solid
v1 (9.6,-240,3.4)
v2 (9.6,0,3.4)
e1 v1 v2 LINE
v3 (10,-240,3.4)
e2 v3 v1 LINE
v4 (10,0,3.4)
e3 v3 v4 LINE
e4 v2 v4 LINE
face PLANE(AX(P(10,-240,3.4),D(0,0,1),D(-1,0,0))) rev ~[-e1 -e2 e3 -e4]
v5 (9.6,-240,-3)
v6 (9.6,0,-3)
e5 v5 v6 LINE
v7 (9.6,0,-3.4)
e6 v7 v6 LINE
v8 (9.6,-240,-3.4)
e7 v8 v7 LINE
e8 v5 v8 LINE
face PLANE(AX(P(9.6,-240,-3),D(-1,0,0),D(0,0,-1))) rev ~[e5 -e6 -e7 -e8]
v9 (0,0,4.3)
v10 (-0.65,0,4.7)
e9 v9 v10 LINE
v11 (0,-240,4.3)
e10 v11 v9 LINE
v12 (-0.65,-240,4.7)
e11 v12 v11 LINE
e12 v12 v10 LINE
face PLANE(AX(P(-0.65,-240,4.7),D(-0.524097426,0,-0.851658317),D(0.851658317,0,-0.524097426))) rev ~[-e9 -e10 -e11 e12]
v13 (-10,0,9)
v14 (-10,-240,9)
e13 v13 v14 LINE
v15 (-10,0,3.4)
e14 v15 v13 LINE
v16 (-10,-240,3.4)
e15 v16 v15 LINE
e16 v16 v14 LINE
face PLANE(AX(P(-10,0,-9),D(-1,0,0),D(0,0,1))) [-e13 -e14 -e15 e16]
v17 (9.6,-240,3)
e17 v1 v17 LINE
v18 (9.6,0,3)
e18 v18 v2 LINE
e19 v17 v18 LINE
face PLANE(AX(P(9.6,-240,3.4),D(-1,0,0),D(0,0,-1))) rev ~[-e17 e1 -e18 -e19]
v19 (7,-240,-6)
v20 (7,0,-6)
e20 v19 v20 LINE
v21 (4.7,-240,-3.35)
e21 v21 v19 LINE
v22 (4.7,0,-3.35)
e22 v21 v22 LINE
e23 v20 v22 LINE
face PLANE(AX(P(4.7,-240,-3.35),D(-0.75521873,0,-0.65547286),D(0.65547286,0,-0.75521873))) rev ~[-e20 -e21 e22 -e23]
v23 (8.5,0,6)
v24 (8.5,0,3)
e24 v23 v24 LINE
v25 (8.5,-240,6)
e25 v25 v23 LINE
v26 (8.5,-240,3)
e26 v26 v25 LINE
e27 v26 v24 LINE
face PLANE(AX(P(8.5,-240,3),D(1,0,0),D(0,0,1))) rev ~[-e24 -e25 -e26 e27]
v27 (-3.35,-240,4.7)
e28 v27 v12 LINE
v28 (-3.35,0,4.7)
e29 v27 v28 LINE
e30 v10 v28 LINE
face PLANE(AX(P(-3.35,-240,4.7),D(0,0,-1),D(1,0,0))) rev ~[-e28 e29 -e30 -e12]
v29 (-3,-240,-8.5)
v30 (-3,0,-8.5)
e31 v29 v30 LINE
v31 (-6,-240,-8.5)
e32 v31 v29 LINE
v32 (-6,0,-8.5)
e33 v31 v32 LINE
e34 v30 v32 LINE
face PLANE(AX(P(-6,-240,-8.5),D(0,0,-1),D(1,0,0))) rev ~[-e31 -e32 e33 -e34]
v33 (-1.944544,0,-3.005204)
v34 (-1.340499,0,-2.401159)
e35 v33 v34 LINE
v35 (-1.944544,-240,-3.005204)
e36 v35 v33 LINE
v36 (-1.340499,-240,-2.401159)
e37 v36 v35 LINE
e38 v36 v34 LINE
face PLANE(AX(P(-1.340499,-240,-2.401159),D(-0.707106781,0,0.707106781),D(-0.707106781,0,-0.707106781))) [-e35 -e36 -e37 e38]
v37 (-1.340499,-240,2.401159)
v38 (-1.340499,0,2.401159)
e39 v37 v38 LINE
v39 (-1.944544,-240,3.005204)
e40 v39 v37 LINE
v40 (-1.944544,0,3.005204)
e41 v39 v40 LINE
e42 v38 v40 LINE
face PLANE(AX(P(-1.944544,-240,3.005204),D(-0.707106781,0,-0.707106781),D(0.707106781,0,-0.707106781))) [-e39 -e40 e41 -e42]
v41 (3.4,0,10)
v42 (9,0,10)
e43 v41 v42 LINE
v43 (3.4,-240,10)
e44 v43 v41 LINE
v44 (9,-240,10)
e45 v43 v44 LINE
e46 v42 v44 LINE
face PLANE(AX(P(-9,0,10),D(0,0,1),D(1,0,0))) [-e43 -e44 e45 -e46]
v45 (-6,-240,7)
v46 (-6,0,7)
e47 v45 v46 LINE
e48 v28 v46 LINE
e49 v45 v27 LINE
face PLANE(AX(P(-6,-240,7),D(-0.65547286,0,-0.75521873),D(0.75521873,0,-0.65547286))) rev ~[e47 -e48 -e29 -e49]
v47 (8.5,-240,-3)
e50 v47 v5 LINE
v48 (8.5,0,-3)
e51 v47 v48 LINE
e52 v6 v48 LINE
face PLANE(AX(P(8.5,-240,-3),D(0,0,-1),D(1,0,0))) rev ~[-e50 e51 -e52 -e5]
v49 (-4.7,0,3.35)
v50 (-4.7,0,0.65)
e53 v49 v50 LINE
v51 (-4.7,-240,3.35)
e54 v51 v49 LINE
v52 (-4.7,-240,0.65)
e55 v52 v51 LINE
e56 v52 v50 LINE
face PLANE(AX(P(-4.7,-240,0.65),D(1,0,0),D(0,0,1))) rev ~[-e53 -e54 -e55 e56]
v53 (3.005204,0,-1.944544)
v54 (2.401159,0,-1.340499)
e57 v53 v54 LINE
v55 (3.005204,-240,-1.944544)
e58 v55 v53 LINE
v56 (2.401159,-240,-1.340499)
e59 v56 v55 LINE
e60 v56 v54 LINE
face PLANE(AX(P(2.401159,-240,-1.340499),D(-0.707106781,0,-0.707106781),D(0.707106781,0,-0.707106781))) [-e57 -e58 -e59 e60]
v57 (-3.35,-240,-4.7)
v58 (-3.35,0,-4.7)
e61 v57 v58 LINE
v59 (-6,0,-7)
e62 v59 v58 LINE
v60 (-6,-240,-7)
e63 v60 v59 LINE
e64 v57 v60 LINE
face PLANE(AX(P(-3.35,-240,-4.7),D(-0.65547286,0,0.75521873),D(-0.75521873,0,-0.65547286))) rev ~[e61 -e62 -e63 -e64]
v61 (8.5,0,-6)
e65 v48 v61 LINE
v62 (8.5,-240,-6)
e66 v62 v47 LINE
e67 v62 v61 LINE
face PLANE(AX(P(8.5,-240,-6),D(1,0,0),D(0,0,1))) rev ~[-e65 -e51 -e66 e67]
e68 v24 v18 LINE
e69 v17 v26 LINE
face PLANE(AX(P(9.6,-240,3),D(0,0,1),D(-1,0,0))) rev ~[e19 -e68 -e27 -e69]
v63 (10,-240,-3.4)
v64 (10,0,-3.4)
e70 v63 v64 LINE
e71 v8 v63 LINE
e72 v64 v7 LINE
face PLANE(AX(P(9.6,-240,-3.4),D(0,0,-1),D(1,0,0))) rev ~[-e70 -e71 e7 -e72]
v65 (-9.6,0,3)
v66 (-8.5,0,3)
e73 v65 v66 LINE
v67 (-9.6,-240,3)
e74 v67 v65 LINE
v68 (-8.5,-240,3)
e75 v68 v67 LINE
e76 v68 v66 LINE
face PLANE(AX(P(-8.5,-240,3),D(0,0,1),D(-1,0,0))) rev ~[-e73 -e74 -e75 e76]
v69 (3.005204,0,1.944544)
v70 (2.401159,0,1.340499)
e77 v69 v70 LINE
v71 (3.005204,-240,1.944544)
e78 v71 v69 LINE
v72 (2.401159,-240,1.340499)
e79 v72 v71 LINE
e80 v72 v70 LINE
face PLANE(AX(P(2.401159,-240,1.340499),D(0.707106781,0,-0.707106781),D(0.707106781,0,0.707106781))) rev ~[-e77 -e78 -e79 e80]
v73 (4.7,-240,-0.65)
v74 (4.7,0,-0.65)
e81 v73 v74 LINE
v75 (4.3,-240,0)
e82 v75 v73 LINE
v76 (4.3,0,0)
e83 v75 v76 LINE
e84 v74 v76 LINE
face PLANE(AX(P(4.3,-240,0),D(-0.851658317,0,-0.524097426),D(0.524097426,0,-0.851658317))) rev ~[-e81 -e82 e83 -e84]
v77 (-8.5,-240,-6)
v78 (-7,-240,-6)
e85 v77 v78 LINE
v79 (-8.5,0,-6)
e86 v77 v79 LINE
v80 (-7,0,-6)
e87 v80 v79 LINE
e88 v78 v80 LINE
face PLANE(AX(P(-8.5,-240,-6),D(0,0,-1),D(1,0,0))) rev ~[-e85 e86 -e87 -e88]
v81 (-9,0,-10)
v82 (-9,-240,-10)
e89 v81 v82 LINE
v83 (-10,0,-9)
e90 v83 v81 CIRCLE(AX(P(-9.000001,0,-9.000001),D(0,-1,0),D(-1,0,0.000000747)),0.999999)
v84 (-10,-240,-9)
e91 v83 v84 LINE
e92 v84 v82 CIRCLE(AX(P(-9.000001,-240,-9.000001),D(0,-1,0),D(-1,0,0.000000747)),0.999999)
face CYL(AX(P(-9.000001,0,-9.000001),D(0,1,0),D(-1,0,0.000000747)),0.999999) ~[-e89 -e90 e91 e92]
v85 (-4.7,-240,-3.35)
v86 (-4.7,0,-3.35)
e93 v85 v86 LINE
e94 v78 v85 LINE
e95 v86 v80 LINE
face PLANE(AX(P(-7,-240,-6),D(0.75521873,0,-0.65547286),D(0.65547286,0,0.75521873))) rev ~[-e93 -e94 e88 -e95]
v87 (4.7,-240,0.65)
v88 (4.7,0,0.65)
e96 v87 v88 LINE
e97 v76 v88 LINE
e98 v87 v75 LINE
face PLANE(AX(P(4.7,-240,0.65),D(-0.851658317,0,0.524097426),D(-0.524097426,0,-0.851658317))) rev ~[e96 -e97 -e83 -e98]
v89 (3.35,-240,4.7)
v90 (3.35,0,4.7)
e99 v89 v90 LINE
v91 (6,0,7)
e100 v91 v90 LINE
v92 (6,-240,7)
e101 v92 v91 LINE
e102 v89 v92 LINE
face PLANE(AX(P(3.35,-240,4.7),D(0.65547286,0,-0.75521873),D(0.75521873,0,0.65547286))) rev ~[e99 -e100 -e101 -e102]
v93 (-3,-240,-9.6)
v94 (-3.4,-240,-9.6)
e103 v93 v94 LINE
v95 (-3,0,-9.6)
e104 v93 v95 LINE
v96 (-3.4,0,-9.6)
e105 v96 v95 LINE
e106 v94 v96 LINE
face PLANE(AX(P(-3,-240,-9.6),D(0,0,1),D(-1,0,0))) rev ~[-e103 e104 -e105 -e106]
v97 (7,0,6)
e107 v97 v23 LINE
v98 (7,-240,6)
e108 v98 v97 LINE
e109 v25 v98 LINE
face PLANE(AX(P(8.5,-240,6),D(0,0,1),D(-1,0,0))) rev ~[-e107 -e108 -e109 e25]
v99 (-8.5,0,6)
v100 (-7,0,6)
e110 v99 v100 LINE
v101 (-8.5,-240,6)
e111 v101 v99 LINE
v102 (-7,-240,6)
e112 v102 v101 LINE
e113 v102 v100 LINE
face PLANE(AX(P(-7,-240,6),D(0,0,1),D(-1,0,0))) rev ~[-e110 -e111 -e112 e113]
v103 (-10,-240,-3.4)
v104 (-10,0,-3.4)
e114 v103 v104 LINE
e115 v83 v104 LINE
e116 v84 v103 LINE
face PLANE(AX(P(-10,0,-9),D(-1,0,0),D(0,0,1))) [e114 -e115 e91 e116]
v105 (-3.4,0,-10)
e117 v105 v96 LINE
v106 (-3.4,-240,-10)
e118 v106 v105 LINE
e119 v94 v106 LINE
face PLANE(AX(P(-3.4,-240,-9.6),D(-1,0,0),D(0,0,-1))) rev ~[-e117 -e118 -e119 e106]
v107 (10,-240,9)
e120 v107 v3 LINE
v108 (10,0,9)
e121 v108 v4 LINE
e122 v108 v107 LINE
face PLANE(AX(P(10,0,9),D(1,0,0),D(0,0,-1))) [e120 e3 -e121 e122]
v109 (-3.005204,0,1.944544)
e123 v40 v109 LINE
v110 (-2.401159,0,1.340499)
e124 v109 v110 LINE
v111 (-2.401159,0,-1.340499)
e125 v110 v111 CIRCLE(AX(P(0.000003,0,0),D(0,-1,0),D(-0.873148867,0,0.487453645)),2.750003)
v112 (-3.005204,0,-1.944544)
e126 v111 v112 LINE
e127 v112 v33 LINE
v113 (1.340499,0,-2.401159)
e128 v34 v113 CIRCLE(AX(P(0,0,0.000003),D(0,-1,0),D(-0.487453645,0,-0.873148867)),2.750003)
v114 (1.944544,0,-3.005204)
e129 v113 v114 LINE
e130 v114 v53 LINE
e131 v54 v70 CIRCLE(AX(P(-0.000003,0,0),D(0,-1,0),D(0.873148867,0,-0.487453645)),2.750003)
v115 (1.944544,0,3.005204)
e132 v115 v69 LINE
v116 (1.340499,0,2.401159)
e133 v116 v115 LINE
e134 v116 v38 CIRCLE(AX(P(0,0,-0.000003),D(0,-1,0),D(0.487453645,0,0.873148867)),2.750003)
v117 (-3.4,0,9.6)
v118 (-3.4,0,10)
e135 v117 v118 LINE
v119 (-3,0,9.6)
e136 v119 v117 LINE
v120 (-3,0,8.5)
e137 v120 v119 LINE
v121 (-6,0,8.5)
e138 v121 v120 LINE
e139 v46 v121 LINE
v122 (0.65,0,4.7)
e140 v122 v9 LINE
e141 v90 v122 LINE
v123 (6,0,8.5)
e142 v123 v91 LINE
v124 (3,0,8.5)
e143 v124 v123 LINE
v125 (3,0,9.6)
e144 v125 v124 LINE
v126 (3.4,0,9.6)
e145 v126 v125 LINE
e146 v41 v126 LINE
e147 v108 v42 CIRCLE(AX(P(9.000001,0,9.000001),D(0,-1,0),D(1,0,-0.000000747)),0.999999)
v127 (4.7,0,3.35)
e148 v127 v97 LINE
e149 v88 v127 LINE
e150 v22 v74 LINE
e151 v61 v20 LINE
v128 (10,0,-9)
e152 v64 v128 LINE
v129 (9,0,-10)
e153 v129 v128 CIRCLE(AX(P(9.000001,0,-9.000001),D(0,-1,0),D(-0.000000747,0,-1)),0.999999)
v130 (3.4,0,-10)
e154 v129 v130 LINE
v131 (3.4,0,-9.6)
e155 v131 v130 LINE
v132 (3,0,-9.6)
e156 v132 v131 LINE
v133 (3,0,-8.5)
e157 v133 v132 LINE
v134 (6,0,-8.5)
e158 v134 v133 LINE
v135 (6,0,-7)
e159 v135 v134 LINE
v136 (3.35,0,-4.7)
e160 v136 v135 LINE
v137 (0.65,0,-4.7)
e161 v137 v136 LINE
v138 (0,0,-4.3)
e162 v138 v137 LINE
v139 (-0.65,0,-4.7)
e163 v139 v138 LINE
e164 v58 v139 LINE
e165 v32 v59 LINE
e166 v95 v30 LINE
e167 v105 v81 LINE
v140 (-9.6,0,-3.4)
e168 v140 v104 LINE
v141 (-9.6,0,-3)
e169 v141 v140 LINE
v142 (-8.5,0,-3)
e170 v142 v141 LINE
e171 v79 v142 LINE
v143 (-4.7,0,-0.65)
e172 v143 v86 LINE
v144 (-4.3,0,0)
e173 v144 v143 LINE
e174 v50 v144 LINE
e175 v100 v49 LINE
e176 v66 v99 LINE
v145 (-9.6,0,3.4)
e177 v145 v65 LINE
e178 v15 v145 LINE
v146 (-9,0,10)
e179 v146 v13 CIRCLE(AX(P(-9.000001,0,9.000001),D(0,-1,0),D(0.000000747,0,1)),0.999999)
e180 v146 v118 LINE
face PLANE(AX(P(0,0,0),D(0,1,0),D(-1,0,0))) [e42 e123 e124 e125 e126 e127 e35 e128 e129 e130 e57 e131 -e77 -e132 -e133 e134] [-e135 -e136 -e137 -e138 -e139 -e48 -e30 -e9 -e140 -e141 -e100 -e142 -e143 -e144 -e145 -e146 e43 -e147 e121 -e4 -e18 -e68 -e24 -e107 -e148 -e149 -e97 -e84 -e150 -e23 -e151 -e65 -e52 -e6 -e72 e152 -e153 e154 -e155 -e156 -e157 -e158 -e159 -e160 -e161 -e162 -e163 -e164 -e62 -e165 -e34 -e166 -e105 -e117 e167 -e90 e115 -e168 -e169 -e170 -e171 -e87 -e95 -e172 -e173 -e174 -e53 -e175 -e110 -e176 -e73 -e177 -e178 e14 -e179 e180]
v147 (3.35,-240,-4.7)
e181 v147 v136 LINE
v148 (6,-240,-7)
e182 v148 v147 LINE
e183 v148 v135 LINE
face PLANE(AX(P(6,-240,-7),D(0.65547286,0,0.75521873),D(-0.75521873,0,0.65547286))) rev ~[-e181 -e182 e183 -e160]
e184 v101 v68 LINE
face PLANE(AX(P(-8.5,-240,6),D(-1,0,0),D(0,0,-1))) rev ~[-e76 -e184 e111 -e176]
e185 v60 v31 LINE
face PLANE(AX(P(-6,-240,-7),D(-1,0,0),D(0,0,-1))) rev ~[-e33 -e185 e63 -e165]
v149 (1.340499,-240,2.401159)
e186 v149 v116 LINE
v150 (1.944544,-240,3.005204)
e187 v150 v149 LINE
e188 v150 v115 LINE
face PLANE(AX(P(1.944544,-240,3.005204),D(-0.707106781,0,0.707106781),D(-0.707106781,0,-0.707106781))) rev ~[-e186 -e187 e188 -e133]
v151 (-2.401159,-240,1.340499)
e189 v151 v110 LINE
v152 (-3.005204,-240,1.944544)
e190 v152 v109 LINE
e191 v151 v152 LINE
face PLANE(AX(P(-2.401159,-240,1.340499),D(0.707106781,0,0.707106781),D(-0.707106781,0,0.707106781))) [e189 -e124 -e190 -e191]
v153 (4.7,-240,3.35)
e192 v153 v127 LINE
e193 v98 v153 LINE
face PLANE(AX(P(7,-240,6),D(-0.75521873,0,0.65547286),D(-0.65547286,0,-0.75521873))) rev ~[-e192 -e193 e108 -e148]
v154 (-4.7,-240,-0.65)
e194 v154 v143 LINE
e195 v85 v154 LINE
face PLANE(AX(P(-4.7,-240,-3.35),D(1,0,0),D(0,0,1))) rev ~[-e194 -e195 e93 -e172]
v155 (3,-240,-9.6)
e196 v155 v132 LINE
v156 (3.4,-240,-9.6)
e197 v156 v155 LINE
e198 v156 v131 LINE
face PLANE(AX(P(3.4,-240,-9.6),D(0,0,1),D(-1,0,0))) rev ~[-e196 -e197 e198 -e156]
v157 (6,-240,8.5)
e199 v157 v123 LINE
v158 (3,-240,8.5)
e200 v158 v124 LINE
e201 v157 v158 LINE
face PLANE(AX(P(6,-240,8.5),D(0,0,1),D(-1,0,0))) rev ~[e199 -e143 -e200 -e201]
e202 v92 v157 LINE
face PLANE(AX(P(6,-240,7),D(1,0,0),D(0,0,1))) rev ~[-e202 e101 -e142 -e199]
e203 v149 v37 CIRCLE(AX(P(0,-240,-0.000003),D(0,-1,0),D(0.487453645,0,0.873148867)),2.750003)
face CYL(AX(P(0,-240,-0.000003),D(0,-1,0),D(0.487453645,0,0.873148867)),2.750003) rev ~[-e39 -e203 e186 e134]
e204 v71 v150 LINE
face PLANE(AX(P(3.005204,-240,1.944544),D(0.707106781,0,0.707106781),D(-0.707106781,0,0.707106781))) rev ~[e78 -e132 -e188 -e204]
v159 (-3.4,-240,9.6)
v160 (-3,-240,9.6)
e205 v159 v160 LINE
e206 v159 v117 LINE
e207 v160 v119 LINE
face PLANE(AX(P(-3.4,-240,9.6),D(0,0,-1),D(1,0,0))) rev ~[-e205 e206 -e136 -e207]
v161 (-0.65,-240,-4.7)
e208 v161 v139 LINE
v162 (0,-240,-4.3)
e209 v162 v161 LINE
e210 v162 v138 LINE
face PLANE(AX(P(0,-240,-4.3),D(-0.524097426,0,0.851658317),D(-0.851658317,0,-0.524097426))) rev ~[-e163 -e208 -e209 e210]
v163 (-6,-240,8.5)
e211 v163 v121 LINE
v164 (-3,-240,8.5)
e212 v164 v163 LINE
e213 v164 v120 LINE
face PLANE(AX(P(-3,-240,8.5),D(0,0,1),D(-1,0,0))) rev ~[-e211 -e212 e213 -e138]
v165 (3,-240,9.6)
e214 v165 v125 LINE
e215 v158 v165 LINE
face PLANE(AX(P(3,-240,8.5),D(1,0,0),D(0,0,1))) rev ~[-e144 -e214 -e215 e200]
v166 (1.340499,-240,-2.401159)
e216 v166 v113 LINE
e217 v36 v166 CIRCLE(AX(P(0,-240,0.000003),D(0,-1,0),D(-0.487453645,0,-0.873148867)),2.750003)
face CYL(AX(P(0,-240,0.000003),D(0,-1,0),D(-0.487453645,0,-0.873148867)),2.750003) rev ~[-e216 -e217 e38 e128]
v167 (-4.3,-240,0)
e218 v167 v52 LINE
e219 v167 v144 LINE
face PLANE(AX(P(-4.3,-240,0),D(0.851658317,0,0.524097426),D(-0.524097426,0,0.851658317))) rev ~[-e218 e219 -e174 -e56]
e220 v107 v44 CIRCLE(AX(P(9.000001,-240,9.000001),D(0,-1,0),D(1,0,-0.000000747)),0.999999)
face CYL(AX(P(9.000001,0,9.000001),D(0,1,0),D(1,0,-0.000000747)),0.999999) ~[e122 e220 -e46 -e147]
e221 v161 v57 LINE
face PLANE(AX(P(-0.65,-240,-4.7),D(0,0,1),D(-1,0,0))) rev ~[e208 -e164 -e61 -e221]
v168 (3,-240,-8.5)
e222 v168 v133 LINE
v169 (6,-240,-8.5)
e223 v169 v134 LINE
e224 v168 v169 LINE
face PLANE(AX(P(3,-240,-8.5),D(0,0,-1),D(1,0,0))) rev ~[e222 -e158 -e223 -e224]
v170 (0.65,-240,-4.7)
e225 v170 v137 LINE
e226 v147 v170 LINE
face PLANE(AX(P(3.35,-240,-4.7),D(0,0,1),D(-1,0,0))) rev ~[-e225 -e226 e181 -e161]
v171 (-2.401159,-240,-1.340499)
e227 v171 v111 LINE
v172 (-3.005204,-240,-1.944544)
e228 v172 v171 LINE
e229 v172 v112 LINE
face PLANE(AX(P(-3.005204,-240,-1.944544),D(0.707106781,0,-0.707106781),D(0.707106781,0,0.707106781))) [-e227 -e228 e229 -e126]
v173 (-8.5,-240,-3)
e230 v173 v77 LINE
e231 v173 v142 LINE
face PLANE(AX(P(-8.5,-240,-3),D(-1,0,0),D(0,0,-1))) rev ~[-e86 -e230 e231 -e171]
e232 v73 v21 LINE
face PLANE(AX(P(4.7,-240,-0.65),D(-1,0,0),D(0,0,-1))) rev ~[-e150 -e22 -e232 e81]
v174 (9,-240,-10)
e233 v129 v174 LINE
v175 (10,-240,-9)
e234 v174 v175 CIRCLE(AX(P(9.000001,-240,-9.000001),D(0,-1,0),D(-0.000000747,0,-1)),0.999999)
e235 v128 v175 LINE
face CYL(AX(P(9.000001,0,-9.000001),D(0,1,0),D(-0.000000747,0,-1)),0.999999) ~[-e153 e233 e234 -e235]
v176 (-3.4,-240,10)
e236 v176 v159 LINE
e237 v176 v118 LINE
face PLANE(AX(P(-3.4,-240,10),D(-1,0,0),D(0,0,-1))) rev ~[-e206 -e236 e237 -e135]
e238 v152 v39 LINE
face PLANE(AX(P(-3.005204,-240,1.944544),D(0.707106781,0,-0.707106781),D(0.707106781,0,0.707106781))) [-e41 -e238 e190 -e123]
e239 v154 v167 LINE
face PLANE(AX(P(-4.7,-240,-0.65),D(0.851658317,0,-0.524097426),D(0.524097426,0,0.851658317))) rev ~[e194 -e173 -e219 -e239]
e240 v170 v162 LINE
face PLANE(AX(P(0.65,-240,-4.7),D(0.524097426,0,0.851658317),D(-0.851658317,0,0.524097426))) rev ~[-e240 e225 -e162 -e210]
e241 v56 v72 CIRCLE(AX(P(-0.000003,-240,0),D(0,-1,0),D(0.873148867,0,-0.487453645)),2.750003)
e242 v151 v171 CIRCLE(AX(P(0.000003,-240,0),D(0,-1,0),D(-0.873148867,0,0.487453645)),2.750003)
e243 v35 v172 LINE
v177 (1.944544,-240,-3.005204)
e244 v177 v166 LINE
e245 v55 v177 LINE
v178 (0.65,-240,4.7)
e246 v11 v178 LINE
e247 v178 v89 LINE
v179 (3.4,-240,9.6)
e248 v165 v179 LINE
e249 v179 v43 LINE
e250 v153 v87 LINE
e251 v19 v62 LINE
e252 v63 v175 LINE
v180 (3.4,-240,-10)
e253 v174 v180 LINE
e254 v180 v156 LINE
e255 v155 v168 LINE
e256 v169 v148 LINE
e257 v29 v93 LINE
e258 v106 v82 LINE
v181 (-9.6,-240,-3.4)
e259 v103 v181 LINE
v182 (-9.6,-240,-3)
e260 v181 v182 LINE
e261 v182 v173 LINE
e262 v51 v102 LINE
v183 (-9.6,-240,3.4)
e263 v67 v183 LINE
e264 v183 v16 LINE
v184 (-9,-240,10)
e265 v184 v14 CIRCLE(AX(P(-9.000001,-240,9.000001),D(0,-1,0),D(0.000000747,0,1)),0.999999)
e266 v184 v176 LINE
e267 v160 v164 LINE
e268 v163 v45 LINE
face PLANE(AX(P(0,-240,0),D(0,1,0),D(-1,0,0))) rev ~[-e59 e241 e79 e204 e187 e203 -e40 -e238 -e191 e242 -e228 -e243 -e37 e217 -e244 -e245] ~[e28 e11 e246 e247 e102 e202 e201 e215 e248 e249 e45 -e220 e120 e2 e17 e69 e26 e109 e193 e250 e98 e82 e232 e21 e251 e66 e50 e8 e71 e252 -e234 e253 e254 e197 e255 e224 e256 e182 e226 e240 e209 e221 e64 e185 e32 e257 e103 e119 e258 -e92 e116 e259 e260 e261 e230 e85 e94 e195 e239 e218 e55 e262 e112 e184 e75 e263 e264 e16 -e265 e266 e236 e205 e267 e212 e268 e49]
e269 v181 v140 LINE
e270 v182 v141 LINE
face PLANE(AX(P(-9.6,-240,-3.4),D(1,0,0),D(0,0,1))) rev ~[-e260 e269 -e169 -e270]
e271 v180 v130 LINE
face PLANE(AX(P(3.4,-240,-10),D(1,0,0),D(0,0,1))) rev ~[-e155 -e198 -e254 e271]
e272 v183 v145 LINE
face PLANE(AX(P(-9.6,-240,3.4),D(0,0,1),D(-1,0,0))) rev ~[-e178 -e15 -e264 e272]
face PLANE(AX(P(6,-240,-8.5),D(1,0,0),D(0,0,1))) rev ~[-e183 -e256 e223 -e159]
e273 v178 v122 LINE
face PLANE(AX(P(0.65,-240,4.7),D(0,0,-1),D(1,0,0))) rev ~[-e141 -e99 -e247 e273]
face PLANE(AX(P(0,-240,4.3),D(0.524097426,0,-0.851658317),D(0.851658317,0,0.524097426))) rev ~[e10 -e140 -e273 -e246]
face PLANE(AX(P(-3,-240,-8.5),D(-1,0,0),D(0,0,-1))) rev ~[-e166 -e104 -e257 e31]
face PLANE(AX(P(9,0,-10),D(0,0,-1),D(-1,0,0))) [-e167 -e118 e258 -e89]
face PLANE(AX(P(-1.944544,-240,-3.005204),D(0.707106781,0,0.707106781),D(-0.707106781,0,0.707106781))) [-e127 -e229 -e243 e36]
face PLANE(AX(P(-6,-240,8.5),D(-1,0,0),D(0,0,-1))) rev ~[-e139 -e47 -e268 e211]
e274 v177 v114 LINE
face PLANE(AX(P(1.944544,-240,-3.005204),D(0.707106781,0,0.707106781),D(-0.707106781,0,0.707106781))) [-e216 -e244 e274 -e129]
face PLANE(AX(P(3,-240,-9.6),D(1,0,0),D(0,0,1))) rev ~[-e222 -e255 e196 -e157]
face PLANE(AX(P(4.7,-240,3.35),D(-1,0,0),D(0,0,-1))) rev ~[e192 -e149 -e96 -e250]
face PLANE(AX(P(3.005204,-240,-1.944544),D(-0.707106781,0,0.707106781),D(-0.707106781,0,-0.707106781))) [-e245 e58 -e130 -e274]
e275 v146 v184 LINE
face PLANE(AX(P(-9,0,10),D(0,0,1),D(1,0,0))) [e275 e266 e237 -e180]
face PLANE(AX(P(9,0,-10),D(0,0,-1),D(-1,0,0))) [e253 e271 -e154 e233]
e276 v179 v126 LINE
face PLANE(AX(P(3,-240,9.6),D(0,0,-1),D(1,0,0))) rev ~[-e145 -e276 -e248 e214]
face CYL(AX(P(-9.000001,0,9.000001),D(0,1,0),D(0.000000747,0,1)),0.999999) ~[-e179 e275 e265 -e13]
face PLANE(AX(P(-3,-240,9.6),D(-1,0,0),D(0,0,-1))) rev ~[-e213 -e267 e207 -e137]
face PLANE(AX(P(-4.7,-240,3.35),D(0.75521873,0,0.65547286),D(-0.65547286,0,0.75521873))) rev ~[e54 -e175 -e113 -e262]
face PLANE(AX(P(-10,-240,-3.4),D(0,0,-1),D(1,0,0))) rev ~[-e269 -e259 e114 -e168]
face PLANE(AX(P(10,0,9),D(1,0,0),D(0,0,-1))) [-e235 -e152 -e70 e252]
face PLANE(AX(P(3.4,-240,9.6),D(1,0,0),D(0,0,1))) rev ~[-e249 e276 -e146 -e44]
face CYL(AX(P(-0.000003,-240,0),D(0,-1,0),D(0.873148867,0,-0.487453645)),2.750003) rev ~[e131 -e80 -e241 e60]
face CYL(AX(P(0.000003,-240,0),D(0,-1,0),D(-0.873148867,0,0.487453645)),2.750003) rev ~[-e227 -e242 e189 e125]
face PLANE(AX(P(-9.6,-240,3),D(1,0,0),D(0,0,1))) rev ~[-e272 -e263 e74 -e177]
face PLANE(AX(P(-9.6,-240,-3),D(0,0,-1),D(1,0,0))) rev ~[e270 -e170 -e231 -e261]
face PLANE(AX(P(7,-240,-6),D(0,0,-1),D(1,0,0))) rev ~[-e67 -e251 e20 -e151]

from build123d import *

# Parameters (mm, degrees)
PAD_DEPTH          = 240
POCKET_DEPTH       = 380
POLARPATTERN_COUNT = 4
POCKET001_DEPTH    = 380


with BuildPart() as part:
    # Sketch → Pad (new body)
    with BuildSketch(Plane.XZ):
        with BuildLine():
            Line((-9, 10), (9, 10))
            ThreePointArc((10, 9), (9.707107, 9.707107), (9, 10))
            Line((10, 9), (10, -9))
            ThreePointArc((9, -10), (9.707107, -9.707107), (10, -9))
            Line((9, -10), (-9, -10))
            ThreePointArc((-10, -9), (-9.707107, -9.707107), (-9, -10))
            Line((-10, -9), (-10, 9))
            ThreePointArc((-9, 10), (-9.707107, 9.707107), (-10, 9))
        make_face()
    extrude(amount=PAD_DEPTH)

    # Sketch001 (on Face10 of Pad) → Pocket (cut)
    with BuildSketch(Plane.XZ.offset(240)):
        Polygon((-3.4, 10), (-3.4, 9.6), (-3, 9.6), (-3, 8.5), (-6, 8.5), (-6, 7), (-3.35, 4.7), (-0.65, 4.7), (0, 4.3), (0.65, 4.7), (3.35, 4.7), (6, 7), (6, 8.5), (3, 8.5), (3, 9.6), (3.4, 9.6), (3.4, 10), align=None)
    pocket = extrude(amount=-POCKET_DEPTH, mode=Mode.SUBTRACT)

    # PolarPattern: Pocket ×4 about axis
    polarpattern_axis = Axis((0, -240, 0), (0, -1, 0))
    for i in range(1, POLARPATTERN_COUNT):
        add(pocket.rotate(polarpattern_axis, i * 360 / POLARPATTERN_COUNT), mode=Mode.SUBTRACT)

    # Sketch002 (on Face4 of PolarPattern) → Pocket001 (cut)
    with BuildSketch(Plane.XZ.offset(240)):
        with BuildLine():
            ThreePointArc((1.340499, 2.401159), (0, 2.75), (-1.340499, 2.401159))
            Line((-1.944544, 3.005204), (-1.340499, 2.401159))
            Line((-3.005204, 1.944544), (-1.944544, 3.005204))
            Line((-2.401159, 1.340499), (-3.005204, 1.944544))
            ThreePointArc((-2.401159, 1.340499), (-2.75, 0), (-2.401159, -1.340499))
            Line((-3.005204, -1.944544), (-2.401159, -1.340499))
            Line((-1.944544, -3.005204), (-3.005204, -1.944544))
            Line((-1.340499, -2.401159), (-1.944544, -3.005204))
            ThreePointArc((-1.340499, -2.401159), (0, -2.75), (1.340499, -2.401159))
            Line((1.944544, -3.005204), (1.340499, -2.401159))
            Line((3.005204, -1.944544), (1.944544, -3.005204))
            Line((2.401159, -1.340499), (3.005204, -1.944544))
            ThreePointArc((2.401159, -1.340499), (2.75, 0), (2.401159, 1.340499))
            Line((2.401159, 1.340499), (3.005204, 1.944544))
            Line((3.005204, 1.944544), (1.944544, 3.005204))
            Line((1.944544, 3.005204), (1.340499, 2.401159))
        make_face()
    extrude(amount=-POCKET001_DEPTH, mode=Mode.SUBTRACT)


solid = part.part
